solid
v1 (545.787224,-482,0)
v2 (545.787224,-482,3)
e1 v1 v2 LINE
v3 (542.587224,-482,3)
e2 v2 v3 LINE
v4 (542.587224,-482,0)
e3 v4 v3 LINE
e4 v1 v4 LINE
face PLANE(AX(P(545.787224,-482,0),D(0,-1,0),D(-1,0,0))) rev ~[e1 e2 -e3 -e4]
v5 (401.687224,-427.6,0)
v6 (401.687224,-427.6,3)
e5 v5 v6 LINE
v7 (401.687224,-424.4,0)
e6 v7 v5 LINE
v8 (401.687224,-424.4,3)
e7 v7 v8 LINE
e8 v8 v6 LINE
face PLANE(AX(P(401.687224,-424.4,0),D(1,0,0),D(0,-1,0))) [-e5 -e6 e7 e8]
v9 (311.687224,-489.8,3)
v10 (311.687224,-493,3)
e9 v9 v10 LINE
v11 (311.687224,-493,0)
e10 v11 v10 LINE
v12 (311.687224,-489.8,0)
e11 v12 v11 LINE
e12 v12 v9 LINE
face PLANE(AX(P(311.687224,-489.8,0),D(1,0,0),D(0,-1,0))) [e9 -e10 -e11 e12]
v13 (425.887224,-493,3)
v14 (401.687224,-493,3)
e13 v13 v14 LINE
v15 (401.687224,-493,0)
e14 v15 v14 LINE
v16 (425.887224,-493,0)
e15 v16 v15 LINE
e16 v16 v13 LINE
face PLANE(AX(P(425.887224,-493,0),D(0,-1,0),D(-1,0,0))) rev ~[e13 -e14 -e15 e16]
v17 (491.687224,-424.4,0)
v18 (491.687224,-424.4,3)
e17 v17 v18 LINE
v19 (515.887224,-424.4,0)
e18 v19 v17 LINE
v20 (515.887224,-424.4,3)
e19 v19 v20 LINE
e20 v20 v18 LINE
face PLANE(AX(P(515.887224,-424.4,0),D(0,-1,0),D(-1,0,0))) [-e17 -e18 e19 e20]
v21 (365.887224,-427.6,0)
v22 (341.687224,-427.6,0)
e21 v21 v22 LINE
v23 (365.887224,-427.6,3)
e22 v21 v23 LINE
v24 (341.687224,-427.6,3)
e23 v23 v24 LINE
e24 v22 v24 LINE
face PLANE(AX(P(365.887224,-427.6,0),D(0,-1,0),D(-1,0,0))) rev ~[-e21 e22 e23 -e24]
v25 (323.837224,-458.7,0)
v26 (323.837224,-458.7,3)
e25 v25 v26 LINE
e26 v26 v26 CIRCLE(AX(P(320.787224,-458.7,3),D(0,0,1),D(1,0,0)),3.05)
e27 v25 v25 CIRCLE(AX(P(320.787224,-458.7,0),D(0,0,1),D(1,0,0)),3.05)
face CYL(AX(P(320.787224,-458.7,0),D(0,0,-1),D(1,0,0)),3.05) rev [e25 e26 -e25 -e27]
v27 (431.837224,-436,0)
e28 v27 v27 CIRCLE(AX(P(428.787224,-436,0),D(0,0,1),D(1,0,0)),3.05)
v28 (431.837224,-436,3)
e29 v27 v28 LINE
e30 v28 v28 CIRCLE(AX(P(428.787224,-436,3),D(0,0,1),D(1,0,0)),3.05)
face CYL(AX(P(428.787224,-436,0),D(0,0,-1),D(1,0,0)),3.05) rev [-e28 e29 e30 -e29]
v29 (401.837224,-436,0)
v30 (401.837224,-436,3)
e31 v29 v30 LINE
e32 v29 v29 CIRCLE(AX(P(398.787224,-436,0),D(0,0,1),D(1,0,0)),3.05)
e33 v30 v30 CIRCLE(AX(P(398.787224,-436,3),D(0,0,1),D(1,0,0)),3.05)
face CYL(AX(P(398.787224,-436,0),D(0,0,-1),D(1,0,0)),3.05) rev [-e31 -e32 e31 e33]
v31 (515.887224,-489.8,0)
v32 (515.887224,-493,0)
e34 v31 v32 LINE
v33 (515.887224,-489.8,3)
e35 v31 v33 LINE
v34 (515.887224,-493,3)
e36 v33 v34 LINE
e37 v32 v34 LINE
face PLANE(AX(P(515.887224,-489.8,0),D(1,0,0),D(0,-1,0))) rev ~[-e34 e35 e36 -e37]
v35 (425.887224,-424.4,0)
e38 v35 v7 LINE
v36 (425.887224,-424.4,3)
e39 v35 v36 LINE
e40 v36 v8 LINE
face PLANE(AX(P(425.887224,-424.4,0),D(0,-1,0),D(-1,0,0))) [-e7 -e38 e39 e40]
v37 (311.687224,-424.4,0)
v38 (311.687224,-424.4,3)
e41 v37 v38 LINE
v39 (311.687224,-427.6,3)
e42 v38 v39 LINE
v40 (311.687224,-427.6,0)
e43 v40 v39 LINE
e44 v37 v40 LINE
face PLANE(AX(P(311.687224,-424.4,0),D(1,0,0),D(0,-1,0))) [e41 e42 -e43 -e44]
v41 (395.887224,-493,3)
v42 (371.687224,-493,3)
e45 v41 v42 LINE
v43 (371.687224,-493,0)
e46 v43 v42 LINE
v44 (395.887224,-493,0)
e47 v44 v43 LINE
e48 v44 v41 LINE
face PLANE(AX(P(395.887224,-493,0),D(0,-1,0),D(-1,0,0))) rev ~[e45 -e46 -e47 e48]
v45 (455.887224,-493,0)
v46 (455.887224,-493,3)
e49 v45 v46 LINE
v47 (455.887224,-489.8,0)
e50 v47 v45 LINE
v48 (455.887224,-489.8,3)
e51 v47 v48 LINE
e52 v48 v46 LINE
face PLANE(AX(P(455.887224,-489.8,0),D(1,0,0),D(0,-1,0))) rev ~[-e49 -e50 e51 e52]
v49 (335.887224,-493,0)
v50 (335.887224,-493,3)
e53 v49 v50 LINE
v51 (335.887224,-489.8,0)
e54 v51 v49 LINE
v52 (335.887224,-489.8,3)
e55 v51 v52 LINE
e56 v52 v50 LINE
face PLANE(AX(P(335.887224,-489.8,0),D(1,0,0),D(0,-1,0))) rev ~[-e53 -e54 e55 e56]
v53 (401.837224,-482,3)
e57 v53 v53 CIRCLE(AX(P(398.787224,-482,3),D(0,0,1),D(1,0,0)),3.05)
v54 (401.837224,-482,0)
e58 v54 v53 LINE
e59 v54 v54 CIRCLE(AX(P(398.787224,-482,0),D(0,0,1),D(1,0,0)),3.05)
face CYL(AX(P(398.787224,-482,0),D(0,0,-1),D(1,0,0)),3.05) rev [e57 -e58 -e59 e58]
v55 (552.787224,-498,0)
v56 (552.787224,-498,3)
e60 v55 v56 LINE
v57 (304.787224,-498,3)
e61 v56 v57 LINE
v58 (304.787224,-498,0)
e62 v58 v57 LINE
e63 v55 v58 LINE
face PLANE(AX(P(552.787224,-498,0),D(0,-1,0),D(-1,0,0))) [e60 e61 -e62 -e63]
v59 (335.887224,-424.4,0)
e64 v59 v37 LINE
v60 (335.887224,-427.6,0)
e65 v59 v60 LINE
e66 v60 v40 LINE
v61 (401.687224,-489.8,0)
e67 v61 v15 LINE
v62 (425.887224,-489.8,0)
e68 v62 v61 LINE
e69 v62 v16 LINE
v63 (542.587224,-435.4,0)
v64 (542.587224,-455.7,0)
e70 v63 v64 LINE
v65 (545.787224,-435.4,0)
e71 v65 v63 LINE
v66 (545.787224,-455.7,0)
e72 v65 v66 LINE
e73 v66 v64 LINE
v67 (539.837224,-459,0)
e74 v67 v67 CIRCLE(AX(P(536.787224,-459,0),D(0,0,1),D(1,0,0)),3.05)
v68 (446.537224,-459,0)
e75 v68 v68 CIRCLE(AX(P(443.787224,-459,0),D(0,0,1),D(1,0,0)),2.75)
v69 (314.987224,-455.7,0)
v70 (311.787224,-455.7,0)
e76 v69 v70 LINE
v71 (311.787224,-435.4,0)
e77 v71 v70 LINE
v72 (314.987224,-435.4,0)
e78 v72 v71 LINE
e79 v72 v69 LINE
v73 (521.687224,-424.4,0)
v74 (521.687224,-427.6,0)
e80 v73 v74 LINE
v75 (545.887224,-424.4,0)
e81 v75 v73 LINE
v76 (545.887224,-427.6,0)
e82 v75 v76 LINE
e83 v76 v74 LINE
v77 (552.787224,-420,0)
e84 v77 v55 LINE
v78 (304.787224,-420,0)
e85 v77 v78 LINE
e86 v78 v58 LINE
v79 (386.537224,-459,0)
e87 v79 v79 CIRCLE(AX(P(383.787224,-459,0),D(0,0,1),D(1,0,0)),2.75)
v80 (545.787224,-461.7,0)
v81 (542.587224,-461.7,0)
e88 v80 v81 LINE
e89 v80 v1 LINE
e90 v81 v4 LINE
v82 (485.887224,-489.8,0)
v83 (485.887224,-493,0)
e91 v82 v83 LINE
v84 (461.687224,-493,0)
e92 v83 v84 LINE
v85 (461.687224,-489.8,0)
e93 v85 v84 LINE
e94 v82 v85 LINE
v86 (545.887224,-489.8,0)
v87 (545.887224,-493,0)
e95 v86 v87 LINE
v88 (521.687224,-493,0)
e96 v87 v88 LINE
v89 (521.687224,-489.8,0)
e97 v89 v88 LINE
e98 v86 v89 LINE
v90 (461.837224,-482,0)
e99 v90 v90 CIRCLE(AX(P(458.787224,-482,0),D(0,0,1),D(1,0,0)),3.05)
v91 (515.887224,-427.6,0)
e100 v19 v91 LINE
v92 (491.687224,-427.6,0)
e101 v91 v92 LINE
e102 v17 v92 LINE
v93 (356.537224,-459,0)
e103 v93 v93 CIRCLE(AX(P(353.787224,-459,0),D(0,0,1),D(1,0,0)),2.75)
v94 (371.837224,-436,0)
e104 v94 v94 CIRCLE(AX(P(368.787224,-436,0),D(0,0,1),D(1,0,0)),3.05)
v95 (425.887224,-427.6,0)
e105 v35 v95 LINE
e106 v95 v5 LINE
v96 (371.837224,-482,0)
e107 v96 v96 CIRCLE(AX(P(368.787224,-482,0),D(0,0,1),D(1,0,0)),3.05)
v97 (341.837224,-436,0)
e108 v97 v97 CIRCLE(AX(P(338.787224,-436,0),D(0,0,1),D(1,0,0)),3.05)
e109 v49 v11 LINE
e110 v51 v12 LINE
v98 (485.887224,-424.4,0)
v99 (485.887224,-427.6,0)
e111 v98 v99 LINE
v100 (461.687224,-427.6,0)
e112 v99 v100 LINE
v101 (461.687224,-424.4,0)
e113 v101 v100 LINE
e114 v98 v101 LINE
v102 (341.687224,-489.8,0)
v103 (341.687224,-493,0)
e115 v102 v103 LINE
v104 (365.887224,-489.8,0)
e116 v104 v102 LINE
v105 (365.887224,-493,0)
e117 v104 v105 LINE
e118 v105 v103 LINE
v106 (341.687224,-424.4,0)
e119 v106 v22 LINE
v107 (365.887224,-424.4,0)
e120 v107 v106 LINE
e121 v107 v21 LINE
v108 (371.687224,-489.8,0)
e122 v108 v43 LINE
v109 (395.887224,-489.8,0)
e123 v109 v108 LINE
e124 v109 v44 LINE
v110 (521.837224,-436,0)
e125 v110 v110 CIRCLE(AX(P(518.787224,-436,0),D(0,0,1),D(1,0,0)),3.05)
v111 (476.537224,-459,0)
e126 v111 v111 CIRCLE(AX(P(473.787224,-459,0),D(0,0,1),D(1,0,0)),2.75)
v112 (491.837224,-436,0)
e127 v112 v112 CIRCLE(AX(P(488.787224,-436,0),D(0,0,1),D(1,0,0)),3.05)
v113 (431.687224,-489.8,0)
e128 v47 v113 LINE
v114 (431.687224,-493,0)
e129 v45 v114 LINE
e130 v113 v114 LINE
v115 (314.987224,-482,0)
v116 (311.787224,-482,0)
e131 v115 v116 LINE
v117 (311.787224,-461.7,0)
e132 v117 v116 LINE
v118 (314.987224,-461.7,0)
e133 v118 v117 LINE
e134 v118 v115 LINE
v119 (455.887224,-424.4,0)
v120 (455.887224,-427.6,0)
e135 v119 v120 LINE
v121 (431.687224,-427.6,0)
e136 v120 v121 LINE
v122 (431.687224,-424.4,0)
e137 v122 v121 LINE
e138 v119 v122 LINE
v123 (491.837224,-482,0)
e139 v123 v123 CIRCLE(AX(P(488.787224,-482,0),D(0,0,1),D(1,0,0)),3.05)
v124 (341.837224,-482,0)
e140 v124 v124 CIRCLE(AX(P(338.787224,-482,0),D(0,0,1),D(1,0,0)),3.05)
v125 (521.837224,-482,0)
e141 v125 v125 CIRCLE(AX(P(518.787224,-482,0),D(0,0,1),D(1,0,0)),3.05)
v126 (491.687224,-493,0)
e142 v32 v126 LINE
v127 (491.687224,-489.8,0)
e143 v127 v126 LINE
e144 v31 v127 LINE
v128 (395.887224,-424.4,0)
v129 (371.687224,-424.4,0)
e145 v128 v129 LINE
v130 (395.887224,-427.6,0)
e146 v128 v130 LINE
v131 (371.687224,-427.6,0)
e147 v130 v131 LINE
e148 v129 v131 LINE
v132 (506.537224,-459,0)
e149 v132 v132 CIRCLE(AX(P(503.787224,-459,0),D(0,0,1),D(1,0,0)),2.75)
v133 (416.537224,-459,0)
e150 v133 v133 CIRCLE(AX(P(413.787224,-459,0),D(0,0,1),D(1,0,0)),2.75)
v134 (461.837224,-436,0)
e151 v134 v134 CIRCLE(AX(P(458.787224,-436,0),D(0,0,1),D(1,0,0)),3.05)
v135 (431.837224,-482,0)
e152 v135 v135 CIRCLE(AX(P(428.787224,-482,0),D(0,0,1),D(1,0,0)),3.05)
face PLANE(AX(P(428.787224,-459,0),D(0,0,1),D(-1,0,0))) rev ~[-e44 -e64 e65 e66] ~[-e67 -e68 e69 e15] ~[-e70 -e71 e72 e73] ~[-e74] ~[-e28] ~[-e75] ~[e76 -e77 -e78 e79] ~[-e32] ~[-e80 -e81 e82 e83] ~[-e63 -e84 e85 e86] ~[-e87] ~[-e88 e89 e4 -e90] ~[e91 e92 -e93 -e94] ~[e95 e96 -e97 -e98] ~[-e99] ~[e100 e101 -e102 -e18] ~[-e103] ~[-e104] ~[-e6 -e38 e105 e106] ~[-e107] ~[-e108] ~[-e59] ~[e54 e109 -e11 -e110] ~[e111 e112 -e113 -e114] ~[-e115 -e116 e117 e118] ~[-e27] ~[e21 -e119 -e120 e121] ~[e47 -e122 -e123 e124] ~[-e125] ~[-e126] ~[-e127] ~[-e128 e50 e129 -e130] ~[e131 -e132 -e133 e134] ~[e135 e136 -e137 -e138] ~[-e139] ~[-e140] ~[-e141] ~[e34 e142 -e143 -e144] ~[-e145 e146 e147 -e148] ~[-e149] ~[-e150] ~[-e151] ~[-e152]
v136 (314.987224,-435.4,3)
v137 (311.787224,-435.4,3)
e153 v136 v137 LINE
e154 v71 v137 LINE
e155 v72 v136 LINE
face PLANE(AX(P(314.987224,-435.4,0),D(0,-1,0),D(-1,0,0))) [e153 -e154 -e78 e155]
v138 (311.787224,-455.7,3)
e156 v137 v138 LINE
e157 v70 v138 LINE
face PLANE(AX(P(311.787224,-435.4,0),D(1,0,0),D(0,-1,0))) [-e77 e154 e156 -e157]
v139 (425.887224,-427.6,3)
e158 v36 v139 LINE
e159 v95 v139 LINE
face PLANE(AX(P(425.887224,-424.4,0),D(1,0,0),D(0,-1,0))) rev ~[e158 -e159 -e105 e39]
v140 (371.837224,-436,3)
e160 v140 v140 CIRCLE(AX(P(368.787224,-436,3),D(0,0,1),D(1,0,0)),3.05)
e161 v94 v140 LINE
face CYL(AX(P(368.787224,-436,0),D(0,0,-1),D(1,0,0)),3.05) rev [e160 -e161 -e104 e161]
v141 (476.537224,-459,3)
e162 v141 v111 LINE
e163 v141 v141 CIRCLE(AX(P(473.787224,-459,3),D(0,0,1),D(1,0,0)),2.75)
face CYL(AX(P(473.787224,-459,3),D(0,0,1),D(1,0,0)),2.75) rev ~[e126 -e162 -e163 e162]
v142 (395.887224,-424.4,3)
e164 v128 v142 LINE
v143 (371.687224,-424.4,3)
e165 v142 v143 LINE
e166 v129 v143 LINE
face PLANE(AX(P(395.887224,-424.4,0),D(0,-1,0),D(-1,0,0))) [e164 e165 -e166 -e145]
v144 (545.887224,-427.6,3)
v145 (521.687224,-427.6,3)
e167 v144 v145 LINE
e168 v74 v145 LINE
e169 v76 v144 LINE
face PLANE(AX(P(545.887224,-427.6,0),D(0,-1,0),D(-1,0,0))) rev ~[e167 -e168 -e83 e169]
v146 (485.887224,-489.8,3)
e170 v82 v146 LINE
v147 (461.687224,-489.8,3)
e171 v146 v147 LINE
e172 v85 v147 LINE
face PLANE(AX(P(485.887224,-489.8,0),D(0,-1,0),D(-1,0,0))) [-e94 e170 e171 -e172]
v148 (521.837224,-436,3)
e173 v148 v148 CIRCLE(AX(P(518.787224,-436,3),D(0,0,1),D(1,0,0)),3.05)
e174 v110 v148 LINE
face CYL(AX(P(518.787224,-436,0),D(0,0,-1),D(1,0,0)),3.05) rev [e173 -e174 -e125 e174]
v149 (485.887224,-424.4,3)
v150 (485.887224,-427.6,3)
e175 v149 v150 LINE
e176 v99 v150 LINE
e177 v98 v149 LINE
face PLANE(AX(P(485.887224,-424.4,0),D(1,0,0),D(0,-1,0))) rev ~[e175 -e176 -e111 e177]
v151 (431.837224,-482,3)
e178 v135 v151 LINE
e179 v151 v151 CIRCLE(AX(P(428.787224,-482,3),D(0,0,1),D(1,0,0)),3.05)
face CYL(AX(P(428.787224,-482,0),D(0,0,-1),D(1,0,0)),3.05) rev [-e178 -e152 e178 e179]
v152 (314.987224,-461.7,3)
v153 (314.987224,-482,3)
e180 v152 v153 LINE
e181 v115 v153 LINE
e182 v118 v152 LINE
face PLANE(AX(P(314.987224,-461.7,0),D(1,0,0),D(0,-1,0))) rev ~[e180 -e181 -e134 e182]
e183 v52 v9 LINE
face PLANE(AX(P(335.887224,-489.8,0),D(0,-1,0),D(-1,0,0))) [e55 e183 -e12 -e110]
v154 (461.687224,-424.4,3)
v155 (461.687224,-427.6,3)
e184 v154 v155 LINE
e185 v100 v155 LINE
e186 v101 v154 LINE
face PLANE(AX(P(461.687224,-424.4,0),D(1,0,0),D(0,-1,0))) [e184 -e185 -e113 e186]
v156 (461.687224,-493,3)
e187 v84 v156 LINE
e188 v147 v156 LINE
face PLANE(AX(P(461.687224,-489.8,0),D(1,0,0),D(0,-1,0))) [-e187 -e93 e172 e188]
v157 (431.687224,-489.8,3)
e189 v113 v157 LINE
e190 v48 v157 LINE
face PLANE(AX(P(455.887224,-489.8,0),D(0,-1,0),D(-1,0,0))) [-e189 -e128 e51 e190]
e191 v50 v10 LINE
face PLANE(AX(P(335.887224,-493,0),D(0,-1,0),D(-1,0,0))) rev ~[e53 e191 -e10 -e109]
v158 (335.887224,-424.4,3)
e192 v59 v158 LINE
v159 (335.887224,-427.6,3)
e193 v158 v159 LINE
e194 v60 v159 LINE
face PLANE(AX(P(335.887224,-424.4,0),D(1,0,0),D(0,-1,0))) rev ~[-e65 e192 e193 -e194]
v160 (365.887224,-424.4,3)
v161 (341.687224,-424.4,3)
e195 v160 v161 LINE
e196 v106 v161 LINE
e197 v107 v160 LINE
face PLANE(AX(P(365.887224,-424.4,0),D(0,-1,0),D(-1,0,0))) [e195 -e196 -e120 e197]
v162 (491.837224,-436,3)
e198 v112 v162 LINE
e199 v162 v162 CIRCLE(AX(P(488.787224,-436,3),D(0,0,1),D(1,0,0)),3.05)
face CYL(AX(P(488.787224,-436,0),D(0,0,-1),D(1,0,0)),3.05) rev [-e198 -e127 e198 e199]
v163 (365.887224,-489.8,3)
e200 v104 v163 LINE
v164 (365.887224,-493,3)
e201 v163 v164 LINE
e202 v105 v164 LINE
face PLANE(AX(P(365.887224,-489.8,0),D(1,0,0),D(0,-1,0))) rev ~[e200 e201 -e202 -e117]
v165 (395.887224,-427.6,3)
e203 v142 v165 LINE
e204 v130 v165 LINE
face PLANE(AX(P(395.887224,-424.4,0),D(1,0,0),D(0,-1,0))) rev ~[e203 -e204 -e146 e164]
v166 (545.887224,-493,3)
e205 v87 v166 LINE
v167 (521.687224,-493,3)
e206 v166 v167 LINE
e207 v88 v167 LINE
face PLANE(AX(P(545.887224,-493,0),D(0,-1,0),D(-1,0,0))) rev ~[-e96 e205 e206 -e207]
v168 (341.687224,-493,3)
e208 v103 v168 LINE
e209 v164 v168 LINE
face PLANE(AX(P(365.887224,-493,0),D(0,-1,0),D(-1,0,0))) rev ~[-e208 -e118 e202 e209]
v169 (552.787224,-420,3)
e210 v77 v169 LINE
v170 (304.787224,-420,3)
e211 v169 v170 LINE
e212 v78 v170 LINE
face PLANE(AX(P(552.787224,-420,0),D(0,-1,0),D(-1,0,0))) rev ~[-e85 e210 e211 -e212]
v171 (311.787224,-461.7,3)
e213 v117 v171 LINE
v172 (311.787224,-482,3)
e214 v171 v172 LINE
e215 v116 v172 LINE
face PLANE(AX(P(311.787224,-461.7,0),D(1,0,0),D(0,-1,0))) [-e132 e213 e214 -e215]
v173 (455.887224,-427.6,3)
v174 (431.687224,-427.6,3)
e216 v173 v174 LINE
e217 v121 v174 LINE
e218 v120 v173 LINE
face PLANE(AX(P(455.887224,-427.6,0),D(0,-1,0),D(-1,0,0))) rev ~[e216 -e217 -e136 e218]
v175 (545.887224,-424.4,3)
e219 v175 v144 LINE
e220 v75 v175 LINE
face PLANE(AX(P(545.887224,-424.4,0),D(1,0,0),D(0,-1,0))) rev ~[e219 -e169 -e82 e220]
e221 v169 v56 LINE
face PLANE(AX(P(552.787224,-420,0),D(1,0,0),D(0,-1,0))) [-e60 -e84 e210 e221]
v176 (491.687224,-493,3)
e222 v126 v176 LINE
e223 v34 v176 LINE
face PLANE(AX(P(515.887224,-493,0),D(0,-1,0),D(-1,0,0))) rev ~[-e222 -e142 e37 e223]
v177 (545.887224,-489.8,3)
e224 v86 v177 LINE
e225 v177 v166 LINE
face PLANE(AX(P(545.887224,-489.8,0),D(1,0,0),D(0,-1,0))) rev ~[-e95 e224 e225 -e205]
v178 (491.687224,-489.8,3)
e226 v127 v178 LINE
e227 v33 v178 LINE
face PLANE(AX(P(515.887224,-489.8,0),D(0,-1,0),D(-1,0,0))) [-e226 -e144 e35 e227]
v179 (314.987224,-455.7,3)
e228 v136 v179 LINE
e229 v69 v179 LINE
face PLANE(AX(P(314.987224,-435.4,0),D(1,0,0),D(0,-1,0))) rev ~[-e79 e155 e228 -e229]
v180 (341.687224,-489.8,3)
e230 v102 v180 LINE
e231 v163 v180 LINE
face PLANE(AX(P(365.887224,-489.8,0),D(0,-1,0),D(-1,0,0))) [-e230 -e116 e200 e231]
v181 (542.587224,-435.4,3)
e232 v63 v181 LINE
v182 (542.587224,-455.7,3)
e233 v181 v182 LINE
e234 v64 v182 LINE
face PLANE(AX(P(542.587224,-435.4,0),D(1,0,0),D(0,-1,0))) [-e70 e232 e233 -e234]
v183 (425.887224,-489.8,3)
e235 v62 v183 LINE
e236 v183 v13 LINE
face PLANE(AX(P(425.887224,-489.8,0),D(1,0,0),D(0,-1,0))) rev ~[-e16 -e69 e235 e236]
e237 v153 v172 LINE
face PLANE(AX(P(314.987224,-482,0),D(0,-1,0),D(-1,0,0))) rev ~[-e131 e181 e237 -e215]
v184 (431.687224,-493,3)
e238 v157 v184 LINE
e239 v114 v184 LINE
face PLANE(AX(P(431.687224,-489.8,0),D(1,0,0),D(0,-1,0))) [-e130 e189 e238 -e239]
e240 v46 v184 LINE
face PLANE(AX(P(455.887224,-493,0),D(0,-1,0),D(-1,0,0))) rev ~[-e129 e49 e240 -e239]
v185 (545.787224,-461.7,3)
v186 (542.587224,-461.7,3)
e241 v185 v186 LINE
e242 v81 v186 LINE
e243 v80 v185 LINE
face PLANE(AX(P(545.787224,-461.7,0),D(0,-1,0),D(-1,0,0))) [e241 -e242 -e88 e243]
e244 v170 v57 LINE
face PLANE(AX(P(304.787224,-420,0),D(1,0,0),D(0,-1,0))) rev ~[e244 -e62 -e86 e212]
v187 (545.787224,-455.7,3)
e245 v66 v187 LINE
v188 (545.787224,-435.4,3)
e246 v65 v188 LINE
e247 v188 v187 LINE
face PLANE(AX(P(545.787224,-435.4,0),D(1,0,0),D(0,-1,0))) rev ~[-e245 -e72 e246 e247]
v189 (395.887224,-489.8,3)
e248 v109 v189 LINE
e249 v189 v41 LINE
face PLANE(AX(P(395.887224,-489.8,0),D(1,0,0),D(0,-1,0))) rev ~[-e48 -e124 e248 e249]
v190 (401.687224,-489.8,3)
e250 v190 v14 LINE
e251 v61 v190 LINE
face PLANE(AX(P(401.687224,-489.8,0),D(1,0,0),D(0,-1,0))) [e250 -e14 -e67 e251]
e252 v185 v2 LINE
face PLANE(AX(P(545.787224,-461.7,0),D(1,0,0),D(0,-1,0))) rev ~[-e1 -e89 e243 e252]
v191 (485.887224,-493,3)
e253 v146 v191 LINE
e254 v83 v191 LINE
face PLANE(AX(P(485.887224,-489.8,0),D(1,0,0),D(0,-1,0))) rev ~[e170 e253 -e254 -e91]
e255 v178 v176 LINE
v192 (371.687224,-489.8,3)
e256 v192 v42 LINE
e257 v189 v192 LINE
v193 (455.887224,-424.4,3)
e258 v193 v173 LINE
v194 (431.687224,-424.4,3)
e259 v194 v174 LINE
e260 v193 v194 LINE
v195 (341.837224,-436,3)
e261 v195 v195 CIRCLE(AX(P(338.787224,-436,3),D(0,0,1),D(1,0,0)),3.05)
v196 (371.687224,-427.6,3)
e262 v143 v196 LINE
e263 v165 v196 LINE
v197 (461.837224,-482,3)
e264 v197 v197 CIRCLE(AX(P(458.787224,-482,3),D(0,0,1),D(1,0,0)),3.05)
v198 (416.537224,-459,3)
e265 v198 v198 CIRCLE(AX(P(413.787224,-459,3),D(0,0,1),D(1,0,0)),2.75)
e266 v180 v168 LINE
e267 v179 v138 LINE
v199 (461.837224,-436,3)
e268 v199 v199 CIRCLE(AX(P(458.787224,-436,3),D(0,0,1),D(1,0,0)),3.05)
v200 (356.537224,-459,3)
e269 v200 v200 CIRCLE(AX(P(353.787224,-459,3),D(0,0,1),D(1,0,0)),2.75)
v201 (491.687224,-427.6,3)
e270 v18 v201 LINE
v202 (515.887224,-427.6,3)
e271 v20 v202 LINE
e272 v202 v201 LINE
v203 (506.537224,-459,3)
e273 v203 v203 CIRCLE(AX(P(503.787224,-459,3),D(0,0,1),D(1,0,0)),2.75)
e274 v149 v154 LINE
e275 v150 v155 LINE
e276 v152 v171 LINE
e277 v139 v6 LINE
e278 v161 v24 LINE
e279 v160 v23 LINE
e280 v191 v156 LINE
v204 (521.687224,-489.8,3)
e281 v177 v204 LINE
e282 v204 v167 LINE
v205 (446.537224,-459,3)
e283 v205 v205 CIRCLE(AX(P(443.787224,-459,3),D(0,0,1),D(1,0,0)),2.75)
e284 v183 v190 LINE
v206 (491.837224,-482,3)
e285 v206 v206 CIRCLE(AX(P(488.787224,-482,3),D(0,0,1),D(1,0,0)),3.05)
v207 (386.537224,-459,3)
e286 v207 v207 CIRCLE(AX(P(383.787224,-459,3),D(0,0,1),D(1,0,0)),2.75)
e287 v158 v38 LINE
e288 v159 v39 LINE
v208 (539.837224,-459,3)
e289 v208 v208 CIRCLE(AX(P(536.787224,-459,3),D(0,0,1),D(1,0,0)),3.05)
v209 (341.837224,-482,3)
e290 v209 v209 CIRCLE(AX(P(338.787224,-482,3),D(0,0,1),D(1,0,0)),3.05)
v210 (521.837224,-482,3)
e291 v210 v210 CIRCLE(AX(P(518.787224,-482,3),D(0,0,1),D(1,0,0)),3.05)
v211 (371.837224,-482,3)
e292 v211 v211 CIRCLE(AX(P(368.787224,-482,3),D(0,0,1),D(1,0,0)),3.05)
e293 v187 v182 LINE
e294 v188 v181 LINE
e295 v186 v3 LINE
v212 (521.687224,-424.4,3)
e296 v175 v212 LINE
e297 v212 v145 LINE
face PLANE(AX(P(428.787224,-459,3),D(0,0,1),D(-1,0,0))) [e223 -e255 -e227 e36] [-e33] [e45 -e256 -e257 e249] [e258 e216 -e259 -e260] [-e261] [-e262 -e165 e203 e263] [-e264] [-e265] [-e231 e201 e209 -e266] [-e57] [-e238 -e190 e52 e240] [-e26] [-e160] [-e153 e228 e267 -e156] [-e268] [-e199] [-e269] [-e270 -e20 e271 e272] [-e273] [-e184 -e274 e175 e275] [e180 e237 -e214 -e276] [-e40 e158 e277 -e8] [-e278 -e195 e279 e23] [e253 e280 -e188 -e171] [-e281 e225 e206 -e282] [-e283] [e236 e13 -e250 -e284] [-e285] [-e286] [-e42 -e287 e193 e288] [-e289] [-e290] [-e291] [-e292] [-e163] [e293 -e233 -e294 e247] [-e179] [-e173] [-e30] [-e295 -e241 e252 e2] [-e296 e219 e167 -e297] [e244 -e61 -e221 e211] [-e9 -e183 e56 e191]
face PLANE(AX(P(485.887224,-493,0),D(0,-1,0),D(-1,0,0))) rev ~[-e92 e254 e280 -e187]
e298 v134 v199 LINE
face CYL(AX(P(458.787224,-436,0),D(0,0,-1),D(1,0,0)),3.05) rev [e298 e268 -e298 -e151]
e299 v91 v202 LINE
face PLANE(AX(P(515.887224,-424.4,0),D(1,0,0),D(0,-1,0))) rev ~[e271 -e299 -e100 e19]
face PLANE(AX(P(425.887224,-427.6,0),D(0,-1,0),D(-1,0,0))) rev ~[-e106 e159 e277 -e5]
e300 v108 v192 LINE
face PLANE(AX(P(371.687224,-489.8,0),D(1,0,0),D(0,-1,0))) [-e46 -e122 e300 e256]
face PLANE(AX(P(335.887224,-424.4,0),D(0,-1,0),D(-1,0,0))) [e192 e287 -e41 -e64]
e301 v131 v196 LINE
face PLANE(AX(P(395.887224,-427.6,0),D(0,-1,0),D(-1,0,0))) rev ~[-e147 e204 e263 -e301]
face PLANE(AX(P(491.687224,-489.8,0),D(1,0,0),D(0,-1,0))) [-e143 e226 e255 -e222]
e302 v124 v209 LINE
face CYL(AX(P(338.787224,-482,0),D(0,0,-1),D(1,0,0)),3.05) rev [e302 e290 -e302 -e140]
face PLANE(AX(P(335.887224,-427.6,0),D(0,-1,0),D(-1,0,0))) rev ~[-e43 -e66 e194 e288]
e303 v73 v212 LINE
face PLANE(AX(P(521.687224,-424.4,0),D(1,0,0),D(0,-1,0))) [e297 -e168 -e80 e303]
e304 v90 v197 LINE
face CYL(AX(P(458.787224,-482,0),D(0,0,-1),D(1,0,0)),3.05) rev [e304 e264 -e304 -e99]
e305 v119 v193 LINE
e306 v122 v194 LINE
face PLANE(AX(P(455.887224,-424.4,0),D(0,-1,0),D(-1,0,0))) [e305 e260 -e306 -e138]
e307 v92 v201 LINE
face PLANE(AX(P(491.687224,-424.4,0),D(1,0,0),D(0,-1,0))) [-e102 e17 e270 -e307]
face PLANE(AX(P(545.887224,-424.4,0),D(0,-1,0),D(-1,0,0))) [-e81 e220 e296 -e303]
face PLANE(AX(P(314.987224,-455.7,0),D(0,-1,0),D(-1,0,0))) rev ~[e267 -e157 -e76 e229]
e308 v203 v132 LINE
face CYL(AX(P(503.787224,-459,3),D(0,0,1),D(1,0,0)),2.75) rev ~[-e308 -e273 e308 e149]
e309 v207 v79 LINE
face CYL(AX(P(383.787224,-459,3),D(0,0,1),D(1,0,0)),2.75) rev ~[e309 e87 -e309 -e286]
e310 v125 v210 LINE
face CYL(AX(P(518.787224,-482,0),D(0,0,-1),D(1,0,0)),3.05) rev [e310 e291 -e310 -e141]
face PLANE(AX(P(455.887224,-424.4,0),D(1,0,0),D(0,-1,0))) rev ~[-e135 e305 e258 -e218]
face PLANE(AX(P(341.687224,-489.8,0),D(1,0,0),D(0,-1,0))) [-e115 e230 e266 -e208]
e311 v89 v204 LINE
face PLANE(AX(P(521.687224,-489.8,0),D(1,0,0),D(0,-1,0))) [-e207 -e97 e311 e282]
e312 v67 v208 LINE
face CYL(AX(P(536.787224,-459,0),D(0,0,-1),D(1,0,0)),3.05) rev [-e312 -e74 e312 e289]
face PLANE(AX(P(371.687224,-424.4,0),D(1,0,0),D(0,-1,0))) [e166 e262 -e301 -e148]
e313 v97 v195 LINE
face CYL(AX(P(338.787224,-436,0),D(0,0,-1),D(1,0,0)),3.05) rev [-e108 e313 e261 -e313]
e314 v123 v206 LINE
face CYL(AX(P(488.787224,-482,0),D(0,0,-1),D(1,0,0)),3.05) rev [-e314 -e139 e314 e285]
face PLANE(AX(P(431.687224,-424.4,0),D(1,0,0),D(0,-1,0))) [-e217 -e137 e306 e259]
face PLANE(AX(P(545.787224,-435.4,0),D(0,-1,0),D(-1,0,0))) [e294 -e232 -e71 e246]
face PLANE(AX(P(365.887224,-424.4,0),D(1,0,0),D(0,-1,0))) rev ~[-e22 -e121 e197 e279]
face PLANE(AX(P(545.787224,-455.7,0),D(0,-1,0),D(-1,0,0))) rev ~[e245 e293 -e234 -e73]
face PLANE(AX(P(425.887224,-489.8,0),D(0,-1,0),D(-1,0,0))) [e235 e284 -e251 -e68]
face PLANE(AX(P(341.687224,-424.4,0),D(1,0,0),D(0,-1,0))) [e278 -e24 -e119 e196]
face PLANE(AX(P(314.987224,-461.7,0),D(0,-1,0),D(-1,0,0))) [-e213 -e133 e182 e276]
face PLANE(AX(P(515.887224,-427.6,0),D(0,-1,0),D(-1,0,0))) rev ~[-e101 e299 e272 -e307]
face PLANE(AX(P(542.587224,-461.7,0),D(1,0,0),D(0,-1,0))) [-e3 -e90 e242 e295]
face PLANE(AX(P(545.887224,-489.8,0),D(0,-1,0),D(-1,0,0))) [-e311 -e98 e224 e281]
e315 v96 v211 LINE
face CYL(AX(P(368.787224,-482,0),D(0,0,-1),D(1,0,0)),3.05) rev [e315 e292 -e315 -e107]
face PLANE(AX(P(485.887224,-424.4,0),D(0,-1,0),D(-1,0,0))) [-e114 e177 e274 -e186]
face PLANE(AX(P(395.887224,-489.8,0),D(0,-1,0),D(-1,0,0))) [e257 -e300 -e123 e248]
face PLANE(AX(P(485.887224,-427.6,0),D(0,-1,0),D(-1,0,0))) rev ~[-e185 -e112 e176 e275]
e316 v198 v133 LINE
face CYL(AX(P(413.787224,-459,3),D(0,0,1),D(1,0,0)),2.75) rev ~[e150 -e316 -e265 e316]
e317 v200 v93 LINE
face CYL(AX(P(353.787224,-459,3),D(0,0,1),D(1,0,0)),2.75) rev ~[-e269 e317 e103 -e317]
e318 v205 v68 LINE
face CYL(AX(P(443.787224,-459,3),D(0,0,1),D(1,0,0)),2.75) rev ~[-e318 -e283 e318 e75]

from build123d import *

# Parameters (mm, degrees)
SKETCH1_W           = 248
SKETCH1_H           = 78
SKETCH1_R           = 3.05
SKETCH1_W_2         = 24.2
SKETCH1_H_2         = 3.2
SKETCH1_W_3         = 3.2
SKETCH1_H_3         = 20.3
BOSS_EXTRUDE2_DEPTH = 3
SKETCH5_R           = 2.75
CUT_EXTRUDE1_DEPTH  = 10


with BuildPart() as part:
    # Sketch1 → Boss-Extrude2 (new body)
    with BuildSketch(Plane(origin=(0, 0, 0), x_dir=(-1, 0, 0), z_dir=(0, 0, 1))):
        with Locations((-428.787224347, 459)):
            Rectangle(SKETCH1_W, SKETCH1_H)
        with Locations(Location((-338.787224347, 436, 0), (0, 0, 180))):
            Circle(SKETCH1_R, mode=Mode.SUBTRACT)
        with Locations(Location((-368.787224347, 436, 0), (0, 0, 180))):
            Circle(SKETCH1_R, mode=Mode.SUBTRACT)
        with Locations(Location((-428.787224347, 436, 0), (0, 0, 180))):
            Circle(SKETCH1_R, mode=Mode.SUBTRACT)
        with Locations(Location((-398.787224347, 436, 0), (0, 0, 180))):
            Circle(SKETCH1_R, mode=Mode.SUBTRACT)
        with Locations(Location((-488.787224347, 436, 0), (0, 0, 180))):
            Circle(SKETCH1_R, mode=Mode.SUBTRACT)
        with Locations(Location((-458.787224347, 436, 0), (0, 0, 180))):
            Circle(SKETCH1_R, mode=Mode.SUBTRACT)
        with Locations(Location((-458.787224347, 482, 0), (0, 0, 180))):
            Circle(SKETCH1_R, mode=Mode.SUBTRACT)
        with Locations(Location((-428.787224347, 482, 0), (0, 0, 180))):
            Circle(SKETCH1_R, mode=Mode.SUBTRACT)
        with Locations(Location((-398.787224347, 482, 0), (0, 0, 180))):
            Circle(SKETCH1_R, mode=Mode.SUBTRACT)
        with Locations(Location((-368.787224347, 482, 0), (0, 0, 180))):
            Circle(SKETCH1_R, mode=Mode.SUBTRACT)
        with Locations(Location((-338.787224347, 482, 0), (0, 0, 180))):
            Circle(SKETCH1_R, mode=Mode.SUBTRACT)
        with Locations(Location((-320.787224347, 458.7, 0), (0, 0, 180))):
            Circle(SKETCH1_R, mode=Mode.SUBTRACT)
        with Locations(Location((-488.787224347, 482, 0), (0, 0, 180))):
            Circle(SKETCH1_R, mode=Mode.SUBTRACT)
        with Locations(Location((-518.787224347, 436, 0), (0, 0, 180))):
            Circle(SKETCH1_R, mode=Mode.SUBTRACT)
        with Locations(Location((-536.787224347, 459, 0), (0, 0, 180))):
            Circle(SKETCH1_R, mode=Mode.SUBTRACT)
        with Locations(Location((-518.787224347, 482, 0), (0, 0, 180))):
            Circle(SKETCH1_R, mode=Mode.SUBTRACT)
        with Locations((-383.787224347, 491.4)):
            Rectangle(SKETCH1_W_2, SKETCH1_H_2, mode=Mode.SUBTRACT)
        with Locations((-413.787224347, 491.4)):
            Rectangle(SKETCH1_W_2, SKETCH1_H_2, mode=Mode.SUBTRACT)
        with Locations((-353.787224347, 491.4)):
            Rectangle(SKETCH1_W_2, SKETCH1_H_2, mode=Mode.SUBTRACT)
        with Locations((-443.787224347, 491.4)):
            Rectangle(SKETCH1_W_2, SKETCH1_H_2, mode=Mode.SUBTRACT)
        with Locations((-473.787224347, 491.4)):
            Rectangle(SKETCH1_W_2, SKETCH1_H_2, mode=Mode.SUBTRACT)
        with Locations((-503.787224347, 491.4)):
            Rectangle(SKETCH1_W_2, SKETCH1_H_2, mode=Mode.SUBTRACT)
        with Locations((-533.787224347, 491.4)):
            Rectangle(SKETCH1_W_2, SKETCH1_H_2, mode=Mode.SUBTRACT)
        with Locations((-323.787224347, 491.4)):
            Rectangle(SKETCH1_W_2, SKETCH1_H_2, mode=Mode.SUBTRACT)
        with Locations((-313.387224347, 445.55)):
            Rectangle(SKETCH1_W_3, SKETCH1_H_3, mode=Mode.SUBTRACT)
        with Locations((-313.387224347, 471.85)):
            Rectangle(SKETCH1_W_3, SKETCH1_H_3, mode=Mode.SUBTRACT)
        with Locations((-544.187224347, 445.55)):
            Rectangle(SKETCH1_W_3, SKETCH1_H_3, mode=Mode.SUBTRACT)
        with Locations((-544.187224347, 471.85)):
            Rectangle(SKETCH1_W_3, SKETCH1_H_3, mode=Mode.SUBTRACT)
        with Locations((-533.787224347, 426)):
            Rectangle(SKETCH1_W_2, SKETCH1_H_2, mode=Mode.SUBTRACT)
        with Locations((-503.787224347, 426)):
            Rectangle(SKETCH1_W_2, SKETCH1_H_2, mode=Mode.SUBTRACT)
        with Locations((-473.787224347, 426)):
            Rectangle(SKETCH1_W_2, SKETCH1_H_2, mode=Mode.SUBTRACT)
        with Locations((-443.787224347, 426)):
            Rectangle(SKETCH1_W_2, SKETCH1_H_2, mode=Mode.SUBTRACT)
        with Locations((-413.787224347, 426)):
            Rectangle(SKETCH1_W_2, SKETCH1_H_2, mode=Mode.SUBTRACT)
        with Locations((-383.787224347, 426)):
            Rectangle(SKETCH1_W_2, SKETCH1_H_2, mode=Mode.SUBTRACT)
        with Locations((-353.787224347, 426)):
            Rectangle(SKETCH1_W_2, SKETCH1_H_2, mode=Mode.SUBTRACT)
        with Locations((-323.787224347, 426)):
            Rectangle(SKETCH1_W_2, SKETCH1_H_2, mode=Mode.SUBTRACT)
    extrude(amount=BOSS_EXTRUDE2_DEPTH)

    # Sketch5 → Cut-Extrude1 (cut)
    with BuildSketch(Plane.XY.offset(3)):
        with Locations((353.787224347, -459)):
            Circle(SKETCH5_R)
        with Locations((383.787224347, -459)):
            Circle(SKETCH5_R)
        with Locations((413.787224347, -459)):
            Circle(SKETCH5_R)
        with Locations((443.787224347, -459)):
            Circle(SKETCH5_R)
        with Locations((473.787224347, -459)):
            Circle(SKETCH5_R)
        with Locations((503.787224347, -459)):
            Circle(SKETCH5_R)
    extrude(amount=-CUT_EXTRUDE1_DEPTH, mode=Mode.SUBTRACT)


solid = part.part
